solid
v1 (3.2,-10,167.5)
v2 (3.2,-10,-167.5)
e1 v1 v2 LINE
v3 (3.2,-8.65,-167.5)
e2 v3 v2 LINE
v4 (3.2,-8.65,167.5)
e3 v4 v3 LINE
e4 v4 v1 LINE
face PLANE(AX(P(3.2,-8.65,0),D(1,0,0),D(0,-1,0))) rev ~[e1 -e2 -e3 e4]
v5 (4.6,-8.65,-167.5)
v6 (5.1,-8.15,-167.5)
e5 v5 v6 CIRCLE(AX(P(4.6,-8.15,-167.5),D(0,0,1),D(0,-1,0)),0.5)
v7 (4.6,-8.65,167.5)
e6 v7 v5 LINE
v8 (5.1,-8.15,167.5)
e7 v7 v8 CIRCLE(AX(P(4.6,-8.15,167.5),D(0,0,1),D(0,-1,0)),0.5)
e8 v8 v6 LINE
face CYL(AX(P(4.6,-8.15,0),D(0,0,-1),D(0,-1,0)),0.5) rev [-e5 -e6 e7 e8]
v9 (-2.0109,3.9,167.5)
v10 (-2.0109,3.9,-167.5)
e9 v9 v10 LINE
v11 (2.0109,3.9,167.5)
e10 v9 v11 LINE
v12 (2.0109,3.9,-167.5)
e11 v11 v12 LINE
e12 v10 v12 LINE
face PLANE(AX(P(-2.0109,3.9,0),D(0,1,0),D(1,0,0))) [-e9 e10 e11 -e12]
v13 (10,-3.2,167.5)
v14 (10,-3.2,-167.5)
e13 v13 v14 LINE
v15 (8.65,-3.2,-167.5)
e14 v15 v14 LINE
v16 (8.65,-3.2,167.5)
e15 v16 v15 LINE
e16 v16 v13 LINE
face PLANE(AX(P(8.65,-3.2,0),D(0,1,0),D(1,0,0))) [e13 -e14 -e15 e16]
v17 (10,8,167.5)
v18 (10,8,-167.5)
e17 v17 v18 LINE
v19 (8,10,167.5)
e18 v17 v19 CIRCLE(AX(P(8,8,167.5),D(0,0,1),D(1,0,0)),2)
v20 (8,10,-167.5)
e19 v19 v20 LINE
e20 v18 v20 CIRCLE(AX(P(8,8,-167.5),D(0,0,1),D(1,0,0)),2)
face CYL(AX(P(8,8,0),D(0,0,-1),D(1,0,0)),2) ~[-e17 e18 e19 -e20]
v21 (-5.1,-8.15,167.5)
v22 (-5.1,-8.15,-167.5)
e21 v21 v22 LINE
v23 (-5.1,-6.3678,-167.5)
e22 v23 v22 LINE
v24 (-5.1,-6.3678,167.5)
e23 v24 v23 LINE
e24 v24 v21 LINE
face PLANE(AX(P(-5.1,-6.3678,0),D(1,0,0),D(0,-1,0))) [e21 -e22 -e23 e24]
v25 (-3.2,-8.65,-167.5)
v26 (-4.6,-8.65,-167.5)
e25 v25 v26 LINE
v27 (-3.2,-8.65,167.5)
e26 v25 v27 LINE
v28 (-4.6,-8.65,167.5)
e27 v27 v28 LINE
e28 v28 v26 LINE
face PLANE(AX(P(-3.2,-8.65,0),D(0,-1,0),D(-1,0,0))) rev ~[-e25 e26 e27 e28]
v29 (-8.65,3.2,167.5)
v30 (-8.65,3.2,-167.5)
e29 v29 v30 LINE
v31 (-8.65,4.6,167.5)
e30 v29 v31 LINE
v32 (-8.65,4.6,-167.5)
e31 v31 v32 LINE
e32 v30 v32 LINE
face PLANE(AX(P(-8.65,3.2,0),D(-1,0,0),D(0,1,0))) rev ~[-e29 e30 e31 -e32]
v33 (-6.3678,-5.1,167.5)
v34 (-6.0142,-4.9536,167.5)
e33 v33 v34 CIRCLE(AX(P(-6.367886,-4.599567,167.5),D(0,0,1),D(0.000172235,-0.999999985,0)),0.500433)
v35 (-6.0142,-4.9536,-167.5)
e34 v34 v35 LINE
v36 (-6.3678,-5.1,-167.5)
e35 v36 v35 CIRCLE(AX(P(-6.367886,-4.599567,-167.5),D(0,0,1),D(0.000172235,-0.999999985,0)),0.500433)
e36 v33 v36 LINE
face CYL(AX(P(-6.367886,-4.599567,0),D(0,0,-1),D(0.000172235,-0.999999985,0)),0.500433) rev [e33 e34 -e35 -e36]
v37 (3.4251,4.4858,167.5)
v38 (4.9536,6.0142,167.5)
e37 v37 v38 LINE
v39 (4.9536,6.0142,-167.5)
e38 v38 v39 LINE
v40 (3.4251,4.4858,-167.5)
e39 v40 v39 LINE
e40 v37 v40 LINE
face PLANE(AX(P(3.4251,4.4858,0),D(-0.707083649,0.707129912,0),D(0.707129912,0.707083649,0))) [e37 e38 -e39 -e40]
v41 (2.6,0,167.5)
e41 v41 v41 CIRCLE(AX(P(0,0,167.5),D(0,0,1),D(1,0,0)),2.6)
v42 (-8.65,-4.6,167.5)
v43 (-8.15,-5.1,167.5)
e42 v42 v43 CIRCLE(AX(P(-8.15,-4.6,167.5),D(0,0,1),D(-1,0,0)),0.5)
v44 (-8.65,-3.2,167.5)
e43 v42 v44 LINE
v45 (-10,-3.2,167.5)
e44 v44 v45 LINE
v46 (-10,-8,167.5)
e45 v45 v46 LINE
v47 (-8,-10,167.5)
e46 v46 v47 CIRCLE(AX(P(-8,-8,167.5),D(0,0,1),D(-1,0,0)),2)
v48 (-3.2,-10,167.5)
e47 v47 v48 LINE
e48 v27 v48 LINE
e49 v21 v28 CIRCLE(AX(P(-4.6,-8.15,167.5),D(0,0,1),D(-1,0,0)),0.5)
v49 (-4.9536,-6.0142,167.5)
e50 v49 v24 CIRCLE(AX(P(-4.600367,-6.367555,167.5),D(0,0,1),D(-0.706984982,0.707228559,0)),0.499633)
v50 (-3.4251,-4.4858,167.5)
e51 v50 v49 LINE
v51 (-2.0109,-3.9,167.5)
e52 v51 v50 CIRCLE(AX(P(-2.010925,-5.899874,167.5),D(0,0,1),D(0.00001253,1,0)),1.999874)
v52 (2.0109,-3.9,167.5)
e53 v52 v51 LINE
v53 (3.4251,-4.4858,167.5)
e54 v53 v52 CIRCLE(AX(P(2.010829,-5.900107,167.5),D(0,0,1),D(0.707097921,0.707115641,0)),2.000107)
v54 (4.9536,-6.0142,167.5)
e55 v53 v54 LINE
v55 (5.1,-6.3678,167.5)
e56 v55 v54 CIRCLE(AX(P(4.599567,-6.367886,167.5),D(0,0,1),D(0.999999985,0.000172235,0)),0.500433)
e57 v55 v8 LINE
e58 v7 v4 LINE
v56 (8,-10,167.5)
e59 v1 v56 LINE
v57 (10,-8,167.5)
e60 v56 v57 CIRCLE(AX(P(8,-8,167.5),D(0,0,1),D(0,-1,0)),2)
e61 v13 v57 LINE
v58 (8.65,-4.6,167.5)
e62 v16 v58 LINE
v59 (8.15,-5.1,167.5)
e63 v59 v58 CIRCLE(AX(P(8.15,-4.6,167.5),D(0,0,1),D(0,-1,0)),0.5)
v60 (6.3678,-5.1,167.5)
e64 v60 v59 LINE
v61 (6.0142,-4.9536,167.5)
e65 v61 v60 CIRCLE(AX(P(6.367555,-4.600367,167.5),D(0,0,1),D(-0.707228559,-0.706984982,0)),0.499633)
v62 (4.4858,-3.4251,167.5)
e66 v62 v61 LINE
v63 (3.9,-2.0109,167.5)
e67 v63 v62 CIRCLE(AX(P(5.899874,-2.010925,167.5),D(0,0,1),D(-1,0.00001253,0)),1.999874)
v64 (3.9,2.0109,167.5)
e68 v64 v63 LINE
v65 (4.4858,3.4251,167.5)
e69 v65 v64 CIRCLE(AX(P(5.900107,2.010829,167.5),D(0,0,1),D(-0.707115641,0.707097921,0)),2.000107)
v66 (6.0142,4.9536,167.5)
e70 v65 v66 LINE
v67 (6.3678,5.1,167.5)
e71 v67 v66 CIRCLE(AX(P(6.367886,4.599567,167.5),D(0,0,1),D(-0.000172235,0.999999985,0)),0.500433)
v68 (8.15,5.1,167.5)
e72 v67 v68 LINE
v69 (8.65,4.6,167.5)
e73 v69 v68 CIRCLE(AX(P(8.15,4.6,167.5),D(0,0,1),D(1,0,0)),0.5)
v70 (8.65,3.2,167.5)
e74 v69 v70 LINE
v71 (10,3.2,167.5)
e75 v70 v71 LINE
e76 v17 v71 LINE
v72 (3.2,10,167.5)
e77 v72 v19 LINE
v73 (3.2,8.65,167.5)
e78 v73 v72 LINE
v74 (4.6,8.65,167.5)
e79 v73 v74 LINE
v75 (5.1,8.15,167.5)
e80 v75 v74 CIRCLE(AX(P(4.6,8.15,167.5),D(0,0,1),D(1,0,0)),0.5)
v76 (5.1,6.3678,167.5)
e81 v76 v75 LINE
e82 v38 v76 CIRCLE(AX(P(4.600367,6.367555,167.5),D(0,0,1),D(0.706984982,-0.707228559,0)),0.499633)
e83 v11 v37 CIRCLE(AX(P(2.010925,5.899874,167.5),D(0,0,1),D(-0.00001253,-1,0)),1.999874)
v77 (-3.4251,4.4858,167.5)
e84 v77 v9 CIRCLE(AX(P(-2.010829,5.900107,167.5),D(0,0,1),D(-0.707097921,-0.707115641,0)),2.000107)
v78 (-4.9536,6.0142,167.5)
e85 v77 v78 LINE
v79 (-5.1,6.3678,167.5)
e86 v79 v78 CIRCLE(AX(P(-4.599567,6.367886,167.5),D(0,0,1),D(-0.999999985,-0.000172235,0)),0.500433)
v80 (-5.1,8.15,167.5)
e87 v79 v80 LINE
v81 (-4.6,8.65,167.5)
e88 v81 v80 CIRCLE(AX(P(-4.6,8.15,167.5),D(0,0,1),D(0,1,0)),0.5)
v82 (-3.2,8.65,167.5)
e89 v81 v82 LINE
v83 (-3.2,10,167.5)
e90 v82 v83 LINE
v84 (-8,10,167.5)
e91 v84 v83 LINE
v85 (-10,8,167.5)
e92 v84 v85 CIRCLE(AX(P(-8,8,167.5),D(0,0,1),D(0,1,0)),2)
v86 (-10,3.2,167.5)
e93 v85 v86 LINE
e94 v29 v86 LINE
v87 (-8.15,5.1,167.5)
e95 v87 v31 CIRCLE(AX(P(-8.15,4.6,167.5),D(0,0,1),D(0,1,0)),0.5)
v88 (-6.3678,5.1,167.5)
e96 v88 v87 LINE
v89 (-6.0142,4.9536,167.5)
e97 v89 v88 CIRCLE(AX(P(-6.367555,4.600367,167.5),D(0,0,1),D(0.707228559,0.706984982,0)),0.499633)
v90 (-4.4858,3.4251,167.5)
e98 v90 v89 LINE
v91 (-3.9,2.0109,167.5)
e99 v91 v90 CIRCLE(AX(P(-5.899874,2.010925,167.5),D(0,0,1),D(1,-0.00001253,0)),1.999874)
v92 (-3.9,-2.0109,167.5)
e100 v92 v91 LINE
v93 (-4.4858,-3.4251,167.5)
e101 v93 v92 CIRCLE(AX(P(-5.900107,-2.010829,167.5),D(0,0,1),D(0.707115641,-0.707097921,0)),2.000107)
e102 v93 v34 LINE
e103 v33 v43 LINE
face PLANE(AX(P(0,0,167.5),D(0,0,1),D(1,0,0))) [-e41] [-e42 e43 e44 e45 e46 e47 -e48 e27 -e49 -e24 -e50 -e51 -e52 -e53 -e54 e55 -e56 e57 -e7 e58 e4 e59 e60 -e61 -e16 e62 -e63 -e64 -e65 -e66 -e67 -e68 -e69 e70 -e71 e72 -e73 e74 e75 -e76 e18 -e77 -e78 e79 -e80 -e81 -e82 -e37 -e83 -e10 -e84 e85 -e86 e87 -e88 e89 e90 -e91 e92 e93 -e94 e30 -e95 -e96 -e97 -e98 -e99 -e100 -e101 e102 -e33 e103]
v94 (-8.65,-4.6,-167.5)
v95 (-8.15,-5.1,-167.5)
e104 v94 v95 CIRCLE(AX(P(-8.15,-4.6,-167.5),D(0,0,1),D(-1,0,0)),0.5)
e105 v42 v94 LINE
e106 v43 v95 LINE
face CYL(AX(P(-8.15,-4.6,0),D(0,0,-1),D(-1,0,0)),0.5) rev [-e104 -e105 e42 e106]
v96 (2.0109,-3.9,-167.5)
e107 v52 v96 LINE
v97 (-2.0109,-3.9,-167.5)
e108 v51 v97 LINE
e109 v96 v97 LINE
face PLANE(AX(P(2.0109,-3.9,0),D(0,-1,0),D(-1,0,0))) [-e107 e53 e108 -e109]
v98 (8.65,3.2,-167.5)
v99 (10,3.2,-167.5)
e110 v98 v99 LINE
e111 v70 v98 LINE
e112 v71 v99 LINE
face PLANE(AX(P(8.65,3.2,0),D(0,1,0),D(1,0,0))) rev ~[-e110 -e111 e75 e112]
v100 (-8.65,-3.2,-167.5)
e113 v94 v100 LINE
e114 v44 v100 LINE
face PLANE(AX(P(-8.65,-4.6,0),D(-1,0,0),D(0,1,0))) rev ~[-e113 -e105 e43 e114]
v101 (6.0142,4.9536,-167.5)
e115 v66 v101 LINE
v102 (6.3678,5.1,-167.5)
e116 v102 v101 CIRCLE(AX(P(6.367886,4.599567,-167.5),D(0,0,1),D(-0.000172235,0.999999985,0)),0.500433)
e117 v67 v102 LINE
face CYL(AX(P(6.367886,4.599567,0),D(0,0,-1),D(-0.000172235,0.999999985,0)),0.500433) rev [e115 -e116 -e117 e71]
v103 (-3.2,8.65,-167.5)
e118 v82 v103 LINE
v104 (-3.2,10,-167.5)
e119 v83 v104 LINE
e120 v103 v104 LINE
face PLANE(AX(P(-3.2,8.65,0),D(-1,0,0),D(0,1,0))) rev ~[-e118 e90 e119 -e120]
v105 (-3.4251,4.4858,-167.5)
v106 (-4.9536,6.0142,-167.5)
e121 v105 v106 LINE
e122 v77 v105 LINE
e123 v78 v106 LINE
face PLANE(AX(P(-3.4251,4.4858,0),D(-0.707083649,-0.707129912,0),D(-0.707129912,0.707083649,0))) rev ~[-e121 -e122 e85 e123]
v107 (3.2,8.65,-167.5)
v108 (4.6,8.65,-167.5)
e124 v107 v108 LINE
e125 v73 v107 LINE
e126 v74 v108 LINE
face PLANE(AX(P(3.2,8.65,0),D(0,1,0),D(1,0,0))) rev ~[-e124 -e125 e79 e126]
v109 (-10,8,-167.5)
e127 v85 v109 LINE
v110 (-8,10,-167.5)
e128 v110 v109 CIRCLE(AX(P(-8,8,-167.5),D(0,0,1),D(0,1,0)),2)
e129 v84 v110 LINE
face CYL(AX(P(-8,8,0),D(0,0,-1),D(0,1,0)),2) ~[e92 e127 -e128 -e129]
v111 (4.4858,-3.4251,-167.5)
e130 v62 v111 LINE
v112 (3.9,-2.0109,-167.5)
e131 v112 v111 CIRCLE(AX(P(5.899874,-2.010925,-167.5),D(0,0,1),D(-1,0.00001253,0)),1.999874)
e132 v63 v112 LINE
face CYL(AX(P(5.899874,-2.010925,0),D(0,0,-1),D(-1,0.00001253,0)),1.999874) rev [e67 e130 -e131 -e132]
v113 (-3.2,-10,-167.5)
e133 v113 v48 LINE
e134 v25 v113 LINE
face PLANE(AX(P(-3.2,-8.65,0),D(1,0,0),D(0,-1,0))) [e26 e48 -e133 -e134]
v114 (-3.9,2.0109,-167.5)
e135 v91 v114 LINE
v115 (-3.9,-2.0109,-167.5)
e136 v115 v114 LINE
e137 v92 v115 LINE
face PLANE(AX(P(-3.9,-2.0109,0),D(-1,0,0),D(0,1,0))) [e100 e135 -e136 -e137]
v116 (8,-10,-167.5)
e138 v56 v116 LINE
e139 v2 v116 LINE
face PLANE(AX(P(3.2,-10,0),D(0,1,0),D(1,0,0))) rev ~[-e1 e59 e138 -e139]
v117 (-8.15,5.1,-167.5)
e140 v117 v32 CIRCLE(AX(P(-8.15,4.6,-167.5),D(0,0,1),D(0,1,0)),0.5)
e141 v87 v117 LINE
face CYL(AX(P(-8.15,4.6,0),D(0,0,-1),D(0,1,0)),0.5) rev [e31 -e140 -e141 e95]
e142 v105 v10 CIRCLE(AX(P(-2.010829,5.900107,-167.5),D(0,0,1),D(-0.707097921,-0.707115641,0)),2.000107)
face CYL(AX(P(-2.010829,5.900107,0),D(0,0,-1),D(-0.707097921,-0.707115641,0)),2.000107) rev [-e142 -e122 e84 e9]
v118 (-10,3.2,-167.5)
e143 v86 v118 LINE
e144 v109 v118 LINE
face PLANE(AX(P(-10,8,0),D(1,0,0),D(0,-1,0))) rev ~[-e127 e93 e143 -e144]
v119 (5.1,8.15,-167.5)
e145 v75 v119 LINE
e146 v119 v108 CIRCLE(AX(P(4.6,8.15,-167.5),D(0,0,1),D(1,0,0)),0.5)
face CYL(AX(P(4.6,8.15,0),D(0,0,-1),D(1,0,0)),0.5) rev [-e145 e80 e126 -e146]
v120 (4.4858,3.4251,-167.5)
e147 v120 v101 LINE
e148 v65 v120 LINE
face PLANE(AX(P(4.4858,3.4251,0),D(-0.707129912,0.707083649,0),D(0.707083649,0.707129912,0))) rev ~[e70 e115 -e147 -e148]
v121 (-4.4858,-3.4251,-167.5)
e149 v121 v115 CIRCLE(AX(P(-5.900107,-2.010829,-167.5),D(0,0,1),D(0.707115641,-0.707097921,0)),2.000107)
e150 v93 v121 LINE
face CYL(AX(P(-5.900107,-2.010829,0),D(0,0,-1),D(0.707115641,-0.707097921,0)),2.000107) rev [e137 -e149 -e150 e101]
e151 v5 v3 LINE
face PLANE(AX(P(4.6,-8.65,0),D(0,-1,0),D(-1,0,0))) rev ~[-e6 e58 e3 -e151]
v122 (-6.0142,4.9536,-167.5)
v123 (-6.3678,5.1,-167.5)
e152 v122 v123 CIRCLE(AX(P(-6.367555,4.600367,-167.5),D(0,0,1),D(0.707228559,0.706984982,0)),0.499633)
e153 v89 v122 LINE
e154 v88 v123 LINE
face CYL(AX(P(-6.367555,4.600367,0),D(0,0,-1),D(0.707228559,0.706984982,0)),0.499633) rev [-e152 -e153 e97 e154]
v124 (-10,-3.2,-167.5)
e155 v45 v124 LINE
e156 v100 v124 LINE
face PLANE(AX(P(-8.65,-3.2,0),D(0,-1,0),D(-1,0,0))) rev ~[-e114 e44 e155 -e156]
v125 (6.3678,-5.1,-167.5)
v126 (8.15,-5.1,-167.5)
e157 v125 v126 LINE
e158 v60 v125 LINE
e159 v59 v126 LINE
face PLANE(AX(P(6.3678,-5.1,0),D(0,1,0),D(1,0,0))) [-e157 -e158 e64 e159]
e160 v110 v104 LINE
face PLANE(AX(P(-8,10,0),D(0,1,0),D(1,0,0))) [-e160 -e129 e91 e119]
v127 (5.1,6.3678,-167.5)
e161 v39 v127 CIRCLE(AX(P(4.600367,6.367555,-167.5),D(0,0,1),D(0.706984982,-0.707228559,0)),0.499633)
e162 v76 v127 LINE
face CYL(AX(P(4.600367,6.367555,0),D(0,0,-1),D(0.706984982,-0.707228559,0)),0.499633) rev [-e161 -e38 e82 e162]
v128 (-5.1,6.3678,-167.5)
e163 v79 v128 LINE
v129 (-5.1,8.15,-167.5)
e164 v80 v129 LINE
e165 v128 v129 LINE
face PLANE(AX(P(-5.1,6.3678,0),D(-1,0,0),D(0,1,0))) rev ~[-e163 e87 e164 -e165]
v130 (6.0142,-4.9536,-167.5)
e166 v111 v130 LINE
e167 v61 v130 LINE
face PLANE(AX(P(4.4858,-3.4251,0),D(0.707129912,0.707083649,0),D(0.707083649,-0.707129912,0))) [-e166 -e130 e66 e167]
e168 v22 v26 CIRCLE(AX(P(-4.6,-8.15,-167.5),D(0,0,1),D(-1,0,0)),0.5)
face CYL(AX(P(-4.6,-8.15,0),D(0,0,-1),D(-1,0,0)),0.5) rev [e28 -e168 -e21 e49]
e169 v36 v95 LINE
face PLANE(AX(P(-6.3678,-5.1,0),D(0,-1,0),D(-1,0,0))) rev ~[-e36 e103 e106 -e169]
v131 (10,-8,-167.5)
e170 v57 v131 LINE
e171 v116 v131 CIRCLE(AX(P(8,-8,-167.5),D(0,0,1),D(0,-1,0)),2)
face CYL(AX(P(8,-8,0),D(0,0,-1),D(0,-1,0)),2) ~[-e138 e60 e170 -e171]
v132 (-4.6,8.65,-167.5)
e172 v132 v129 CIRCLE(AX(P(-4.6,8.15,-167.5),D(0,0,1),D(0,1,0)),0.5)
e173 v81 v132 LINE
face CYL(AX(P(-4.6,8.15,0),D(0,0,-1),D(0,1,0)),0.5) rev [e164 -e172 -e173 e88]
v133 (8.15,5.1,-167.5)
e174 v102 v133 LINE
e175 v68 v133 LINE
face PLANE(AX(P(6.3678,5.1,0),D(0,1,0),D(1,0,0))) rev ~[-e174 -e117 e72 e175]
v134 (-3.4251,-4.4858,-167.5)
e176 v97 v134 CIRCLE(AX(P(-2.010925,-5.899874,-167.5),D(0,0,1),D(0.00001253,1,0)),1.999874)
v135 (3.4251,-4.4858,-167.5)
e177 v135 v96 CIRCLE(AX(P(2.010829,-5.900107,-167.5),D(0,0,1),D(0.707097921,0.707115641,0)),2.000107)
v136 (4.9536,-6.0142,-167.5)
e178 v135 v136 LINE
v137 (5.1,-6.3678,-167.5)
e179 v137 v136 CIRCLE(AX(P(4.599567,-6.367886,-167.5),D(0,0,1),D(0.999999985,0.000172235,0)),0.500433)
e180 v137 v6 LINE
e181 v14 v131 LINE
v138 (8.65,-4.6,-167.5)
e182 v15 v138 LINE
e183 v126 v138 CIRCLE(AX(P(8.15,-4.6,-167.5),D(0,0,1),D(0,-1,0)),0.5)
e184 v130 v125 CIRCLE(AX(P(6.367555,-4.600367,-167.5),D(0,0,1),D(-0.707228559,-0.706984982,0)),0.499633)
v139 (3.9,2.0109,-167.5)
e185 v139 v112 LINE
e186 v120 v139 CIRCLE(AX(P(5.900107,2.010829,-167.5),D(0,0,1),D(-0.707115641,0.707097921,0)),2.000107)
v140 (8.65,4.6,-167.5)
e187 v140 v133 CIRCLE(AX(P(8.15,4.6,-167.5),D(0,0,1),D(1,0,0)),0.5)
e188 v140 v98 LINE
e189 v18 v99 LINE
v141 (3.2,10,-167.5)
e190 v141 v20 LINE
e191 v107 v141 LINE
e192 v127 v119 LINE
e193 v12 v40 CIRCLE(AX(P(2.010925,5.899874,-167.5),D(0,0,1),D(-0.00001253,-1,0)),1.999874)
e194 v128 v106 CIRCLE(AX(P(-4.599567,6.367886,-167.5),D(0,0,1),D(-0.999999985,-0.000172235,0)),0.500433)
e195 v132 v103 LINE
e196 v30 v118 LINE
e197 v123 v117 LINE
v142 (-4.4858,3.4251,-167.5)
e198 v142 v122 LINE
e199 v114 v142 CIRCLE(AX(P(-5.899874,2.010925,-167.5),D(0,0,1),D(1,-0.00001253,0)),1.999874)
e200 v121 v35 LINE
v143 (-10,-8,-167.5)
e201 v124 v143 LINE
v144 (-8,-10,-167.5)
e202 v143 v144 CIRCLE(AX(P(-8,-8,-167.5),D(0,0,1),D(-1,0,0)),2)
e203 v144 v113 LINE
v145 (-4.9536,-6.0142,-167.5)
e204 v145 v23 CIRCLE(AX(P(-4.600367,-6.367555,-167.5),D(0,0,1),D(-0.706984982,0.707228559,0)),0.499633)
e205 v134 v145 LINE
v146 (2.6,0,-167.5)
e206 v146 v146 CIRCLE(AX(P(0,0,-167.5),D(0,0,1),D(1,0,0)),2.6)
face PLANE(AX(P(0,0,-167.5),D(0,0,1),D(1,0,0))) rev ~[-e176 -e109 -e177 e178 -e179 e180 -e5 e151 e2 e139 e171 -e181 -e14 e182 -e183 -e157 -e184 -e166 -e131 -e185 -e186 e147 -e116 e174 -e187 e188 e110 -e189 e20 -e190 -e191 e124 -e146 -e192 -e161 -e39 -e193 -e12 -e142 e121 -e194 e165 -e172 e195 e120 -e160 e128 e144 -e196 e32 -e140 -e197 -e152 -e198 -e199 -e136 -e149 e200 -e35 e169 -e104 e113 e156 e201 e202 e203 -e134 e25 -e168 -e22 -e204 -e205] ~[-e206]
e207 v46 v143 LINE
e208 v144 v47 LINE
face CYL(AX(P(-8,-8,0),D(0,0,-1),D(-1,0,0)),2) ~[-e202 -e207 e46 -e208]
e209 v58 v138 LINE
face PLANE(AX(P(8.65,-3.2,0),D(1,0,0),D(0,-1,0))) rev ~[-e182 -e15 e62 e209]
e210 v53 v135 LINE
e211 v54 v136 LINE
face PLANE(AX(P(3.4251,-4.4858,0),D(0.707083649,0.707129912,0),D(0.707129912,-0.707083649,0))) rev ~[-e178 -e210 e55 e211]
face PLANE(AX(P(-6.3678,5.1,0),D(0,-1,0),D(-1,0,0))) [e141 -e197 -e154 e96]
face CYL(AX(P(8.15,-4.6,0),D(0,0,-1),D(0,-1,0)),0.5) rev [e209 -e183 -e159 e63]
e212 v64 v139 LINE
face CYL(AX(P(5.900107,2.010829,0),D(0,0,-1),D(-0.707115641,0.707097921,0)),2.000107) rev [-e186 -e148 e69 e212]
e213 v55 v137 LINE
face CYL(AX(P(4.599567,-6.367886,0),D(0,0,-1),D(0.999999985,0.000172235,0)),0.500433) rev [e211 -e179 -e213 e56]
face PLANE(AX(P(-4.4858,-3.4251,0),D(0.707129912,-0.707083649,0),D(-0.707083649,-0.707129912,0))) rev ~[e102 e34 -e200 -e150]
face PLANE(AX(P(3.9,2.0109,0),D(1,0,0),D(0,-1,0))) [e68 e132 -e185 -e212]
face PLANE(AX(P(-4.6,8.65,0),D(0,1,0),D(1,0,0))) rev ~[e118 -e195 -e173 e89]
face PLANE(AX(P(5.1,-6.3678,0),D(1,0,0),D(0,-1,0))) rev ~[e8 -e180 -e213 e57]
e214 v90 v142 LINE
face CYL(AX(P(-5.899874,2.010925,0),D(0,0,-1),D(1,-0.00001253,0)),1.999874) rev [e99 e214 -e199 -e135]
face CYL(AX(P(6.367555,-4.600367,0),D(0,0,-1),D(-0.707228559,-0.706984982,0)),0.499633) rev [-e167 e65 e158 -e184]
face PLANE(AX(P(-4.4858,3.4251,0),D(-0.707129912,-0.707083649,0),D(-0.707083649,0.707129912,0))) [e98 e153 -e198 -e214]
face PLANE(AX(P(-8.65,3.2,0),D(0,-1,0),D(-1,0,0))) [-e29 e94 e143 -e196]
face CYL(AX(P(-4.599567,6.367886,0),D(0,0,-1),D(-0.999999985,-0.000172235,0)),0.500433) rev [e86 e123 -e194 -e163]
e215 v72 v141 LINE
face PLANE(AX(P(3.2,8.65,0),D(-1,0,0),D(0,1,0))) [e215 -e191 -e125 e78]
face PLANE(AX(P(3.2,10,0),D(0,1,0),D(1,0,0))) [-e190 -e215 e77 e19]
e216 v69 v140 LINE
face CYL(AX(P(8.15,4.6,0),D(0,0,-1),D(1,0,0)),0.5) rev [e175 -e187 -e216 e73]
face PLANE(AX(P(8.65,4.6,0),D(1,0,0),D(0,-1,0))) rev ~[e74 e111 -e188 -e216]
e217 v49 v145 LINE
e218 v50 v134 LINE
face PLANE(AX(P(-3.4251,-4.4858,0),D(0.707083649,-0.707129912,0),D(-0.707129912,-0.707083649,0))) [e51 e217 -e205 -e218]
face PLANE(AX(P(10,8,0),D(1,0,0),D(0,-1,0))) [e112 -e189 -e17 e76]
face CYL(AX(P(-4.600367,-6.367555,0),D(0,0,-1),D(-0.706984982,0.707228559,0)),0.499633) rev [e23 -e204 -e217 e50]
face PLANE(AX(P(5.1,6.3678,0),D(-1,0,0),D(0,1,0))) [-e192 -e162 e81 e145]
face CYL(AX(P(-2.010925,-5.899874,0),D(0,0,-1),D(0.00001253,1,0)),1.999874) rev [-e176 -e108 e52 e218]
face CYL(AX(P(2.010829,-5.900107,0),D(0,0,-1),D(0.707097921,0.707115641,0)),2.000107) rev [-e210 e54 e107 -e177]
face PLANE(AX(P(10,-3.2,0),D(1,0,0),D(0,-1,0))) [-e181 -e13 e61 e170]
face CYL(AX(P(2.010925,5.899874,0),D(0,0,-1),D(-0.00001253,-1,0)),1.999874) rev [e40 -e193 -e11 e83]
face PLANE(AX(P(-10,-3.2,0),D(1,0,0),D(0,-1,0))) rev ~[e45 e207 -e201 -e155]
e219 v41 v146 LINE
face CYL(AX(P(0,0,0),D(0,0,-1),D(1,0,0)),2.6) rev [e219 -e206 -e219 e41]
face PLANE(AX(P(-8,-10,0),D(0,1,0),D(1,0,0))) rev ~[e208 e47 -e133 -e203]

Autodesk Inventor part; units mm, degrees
ref_plane "YZ Plane" through (0, 0, 0) normal (1, 0, 0) x (0, 1, 0)
ref_plane "XZ Plane" through (0, 0, 0) normal (0, 1, 0) x (-1, 0, 0)
ref_plane "XY Plane" through (0, 0, 0) normal (0, 0, 1) x (1, 0, 0)
sketch "Sketch1" plane through (0, 0, 0) normal (0, 0, 1) x (1, 0, 0)
  line L0 (-8, -10) -> (-3.2, -10)
  arc A0 (-10, -8) -> (-8, -10) centre (-8, -8) ccw
  line L1 (3.2, -10) -> (8, -10)
  line L2 (-8, 10) -> (-3.2, 10)
  line L3 (3.2, 10) -> (8, 10)
  line L4 (-10, 8) -> (-10, 3.2)
  arc A1 (-8, 10) -> (-10, 8) centre (-8, 8) ccw
  line L5 (-10, -3.2) -> (-10, -8)
  line L6 (10, 8) -> (10, 3.2)
  arc A2 (10, 8) -> (8, 10) centre (8, 8) ccw
  line L7 (10, -3.2) -> (10, -8)
  arc A3 (8, -10) -> (10, -8) centre (8, -8) ccw
  circle A4 centre (0, 0) radius 2.6
  line L8 (8.65, 4.6) -> (8.65, 3.2)
  line L9 (8.65, -3.2) -> (8.65, -4.6)
  arc A5 (8.15, -5.1) -> (8.65, -4.6) centre (8.15, -4.6) ccw
  arc A6 (8.65, 4.6) -> (8.15, 5.1) centre (8.15, 4.6) ccw
  line L10 (3.9, 2.0109) -> (3.9, -2.0109)
  arc A7 (4.4858, 3.4251) -> (3.9, 2.0109) centre (5.9, 2.0109) ccw
  line L11 (8.65, 3.2) -> (10, 3.2)
  line L12 (8.65, -3.2) -> (10, -3.2)
  line L13 (6.3678, -5.1) -> (8.15, -5.1)
  arc A8 (6.0142, -4.9536) -> (6.3678, -5.1) centre (6.3678, -4.6) ccw
  line L14 (6.3678, 5.1) -> (8.15, 5.1)
  arc A9 (6.3678, 5.1) -> (6.0142, 4.9536) centre (6.3678, 4.6) ccw
  line L15 (4.4858, 3.4251) -> (6.0142, 4.9536)
  line L16 (4.4858, -3.4251) -> (6.0142, -4.9536)
  arc A10 (3.9, -2.0109) -> (4.4858, -3.4251) centre (5.9, -2.0109) ccw
  line L17 (-4.6, 8.65) -> (-3.2, 8.65)
  line L18 (3.2, 8.65) -> (4.6, 8.65)
  arc A11 (5.1, 8.15) -> (4.6, 8.65) centre (4.6, 8.15) ccw
  arc A12 (-4.6, 8.65) -> (-5.1, 8.15) centre (-4.6, 8.15) ccw
  line L19 (-2.0109, 3.9) -> (2.0109, 3.9)
  arc A13 (-3.4251, 4.4858) -> (-2.0109, 3.9) centre (-2.0109, 5.9) ccw
  line L20 (-3.2, 8.65) -> (-3.2, 10)
  line L21 (3.2, 8.65) -> (3.2, 10)
  line L22 (5.1, 6.3678) -> (5.1, 8.15)
  arc A14 (4.9536, 6.0142) -> (5.1, 6.3678) centre (4.6, 6.3678) ccw
  line L23 (-5.1, 6.3678) -> (-5.1, 8.15)
  arc A15 (-5.1, 6.3678) -> (-4.9536, 6.0142) centre (-4.6, 6.3678) ccw
  line L24 (-3.4251, 4.4858) -> (-4.9536, 6.0142)
  line L25 (3.4251, 4.4858) -> (4.9536, 6.0142)
  arc A16 (2.0109, 3.9) -> (3.4251, 4.4858) centre (2.0109, 5.9) ccw
  line L26 (-8.65, -4.6) -> (-8.65, -3.2)
  line L27 (-8.65, 3.2) -> (-8.65, 4.6)
  arc A17 (-8.15, 5.1) -> (-8.65, 4.6) centre (-8.15, 4.6) ccw
  arc A18 (-8.65, -4.6) -> (-8.15, -5.1) centre (-8.15, -4.6) ccw
  line L28 (-3.9, -2.0109) -> (-3.9, 2.0109)
  arc A19 (-4.4858, -3.4251) -> (-3.9, -2.0109) centre (-5.9, -2.0109) ccw
  line L29 (-8.65, -3.2) -> (-10, -3.2)
  line L30 (-8.65, 3.2) -> (-10, 3.2)
  line L31 (-6.3678, 5.1) -> (-8.15, 5.1)
  arc A20 (-6.0142, 4.9536) -> (-6.3678, 5.1) centre (-6.3678, 4.6) ccw
  line L32 (-6.3678, -5.1) -> (-8.15, -5.1)
  arc A21 (-6.3678, -5.1) -> (-6.0142, -4.9536) centre (-6.3678, -4.6) ccw
  line L33 (-4.4858, -3.4251) -> (-6.0142, -4.9536)
  line L34 (-4.4858, 3.4251) -> (-6.0142, 4.9536)
  arc A22 (-3.9, 2.0109) -> (-4.4858, 3.4251) centre (-5.9, 2.0109) ccw
  line L35 (4.6, -8.65) -> (3.2, -8.65)
  line L36 (-3.2, -8.65) -> (-4.6, -8.65)
  arc A23 (-5.1, -8.15) -> (-4.6, -8.65) centre (-4.6, -8.15) ccw
  arc A24 (4.6, -8.65) -> (5.1, -8.15) centre (4.6, -8.15) ccw
  line L37 (2.0109, -3.9) -> (-2.0109, -3.9)
  arc A25 (3.4251, -4.4858) -> (2.0109, -3.9) centre (2.0109, -5.9) ccw
  line L38 (3.2, -8.65) -> (3.2, -10)
  line L39 (-3.2, -8.65) -> (-3.2, -10)
  line L40 (-5.1, -6.3678) -> (-5.1, -8.15)
  arc A26 (-4.9536, -6.0142) -> (-5.1, -6.3678) centre (-4.6, -6.3678) ccw
  line L41 (5.1, -6.3678) -> (5.1, -8.15)
  arc A27 (5.1, -6.3678) -> (4.9536, -6.0142) centre (4.6, -6.3678) ccw
  line L42 (3.4251, -4.4858) -> (4.9536, -6.0142)
  line L43 (-3.4251, -4.4858) -> (-4.9536, -6.0142)
  arc A28 (-2.0109, -3.9) -> (-3.4251, -4.4858) centre (-2.0109, -5.9) ccw
  dimension "d0" = 0.5
  dimension "d1" = 2
  dimension "d2" = 5.2
  dimension "d3" = 45
  dimension "d4" = 45
  dimension "d5" = 45
  dimension "d6" = 90
  dimension "d7" = 90
  dimension "d8" = 45
  dimension "d9" = 45
  dimension "d10" = 90
  dimension "d11" = 90
  dimension "d12" = 90
  dimension "d13" = 90
  dimension "d14" = 90
  dimension "d15" = 90
  dimension "d16" = 90
  dimension "d17" = 90
  dimension "d18" = 90
  dimension "d19" = 90
  dimension "d20" = 90
  dimension "d21" = 90
  dimension "d22" = 90
  dimension "d23" = 90
  dimension "d24" = 1.35
  dimension "d25" = 4.9
  dimension "d26" = 6.1
  dimension "d27" = 6.8
  dimension "d28" = 13.2
  dimension "d29" = 13.9
  dimension "d30" = 15.1
  dimension "d31" = 18.65
  dimension "d32" = 20
  dimension "d33" = 6.4
  dimension "d34" = 1.9
  dimension "d35" = 8.3
  dimension "d36" = 6.8
  dimension "d37" = 13.2
  dimension "d38" = 5.45
  dimension "d39" = 11.85
  dimension "d40" = 0.7
  dimension "d41" = 7.1
  dimension "d42" = 1.5
  dimension "d43" = 1.5
  dimension "d44" = 10
  dimension "d45" = 10
  dimension "d46" = 3.2
  dimension "d47" = 8.65
  dimension "d48" = 0.75
  dimension "d49" = 0.75
  dimension "d50" = 5.1
  dimension "d51" = 0.75
  dimension "d52" = 3.2
  dimension "d53" = 3.2
  dimension "d54" = 8.65
  dimension "d55" = 8.65
  dimension "d56" = 0.75
  dimension "d57" = 0.75
  dimension "d58" = 5.1
  dimension "d59" = 0.75
  dimension "d60" = 10
  dimension "d61" = 10
  dimension "d62" = 5.1
  dimension "d63" = 5.1
extrude "Extrusion1" add sketch "Sketch1" along normal mid plane 335
equation "\"platform_width\" = 214"
equation "\"platform_depth\" = 214"
equation "\"bed_cl_y_offset\" = 173.25"
properties part number "2020 Extrusion - Double Z motor - Bed X" material "Aluminum 6061"
